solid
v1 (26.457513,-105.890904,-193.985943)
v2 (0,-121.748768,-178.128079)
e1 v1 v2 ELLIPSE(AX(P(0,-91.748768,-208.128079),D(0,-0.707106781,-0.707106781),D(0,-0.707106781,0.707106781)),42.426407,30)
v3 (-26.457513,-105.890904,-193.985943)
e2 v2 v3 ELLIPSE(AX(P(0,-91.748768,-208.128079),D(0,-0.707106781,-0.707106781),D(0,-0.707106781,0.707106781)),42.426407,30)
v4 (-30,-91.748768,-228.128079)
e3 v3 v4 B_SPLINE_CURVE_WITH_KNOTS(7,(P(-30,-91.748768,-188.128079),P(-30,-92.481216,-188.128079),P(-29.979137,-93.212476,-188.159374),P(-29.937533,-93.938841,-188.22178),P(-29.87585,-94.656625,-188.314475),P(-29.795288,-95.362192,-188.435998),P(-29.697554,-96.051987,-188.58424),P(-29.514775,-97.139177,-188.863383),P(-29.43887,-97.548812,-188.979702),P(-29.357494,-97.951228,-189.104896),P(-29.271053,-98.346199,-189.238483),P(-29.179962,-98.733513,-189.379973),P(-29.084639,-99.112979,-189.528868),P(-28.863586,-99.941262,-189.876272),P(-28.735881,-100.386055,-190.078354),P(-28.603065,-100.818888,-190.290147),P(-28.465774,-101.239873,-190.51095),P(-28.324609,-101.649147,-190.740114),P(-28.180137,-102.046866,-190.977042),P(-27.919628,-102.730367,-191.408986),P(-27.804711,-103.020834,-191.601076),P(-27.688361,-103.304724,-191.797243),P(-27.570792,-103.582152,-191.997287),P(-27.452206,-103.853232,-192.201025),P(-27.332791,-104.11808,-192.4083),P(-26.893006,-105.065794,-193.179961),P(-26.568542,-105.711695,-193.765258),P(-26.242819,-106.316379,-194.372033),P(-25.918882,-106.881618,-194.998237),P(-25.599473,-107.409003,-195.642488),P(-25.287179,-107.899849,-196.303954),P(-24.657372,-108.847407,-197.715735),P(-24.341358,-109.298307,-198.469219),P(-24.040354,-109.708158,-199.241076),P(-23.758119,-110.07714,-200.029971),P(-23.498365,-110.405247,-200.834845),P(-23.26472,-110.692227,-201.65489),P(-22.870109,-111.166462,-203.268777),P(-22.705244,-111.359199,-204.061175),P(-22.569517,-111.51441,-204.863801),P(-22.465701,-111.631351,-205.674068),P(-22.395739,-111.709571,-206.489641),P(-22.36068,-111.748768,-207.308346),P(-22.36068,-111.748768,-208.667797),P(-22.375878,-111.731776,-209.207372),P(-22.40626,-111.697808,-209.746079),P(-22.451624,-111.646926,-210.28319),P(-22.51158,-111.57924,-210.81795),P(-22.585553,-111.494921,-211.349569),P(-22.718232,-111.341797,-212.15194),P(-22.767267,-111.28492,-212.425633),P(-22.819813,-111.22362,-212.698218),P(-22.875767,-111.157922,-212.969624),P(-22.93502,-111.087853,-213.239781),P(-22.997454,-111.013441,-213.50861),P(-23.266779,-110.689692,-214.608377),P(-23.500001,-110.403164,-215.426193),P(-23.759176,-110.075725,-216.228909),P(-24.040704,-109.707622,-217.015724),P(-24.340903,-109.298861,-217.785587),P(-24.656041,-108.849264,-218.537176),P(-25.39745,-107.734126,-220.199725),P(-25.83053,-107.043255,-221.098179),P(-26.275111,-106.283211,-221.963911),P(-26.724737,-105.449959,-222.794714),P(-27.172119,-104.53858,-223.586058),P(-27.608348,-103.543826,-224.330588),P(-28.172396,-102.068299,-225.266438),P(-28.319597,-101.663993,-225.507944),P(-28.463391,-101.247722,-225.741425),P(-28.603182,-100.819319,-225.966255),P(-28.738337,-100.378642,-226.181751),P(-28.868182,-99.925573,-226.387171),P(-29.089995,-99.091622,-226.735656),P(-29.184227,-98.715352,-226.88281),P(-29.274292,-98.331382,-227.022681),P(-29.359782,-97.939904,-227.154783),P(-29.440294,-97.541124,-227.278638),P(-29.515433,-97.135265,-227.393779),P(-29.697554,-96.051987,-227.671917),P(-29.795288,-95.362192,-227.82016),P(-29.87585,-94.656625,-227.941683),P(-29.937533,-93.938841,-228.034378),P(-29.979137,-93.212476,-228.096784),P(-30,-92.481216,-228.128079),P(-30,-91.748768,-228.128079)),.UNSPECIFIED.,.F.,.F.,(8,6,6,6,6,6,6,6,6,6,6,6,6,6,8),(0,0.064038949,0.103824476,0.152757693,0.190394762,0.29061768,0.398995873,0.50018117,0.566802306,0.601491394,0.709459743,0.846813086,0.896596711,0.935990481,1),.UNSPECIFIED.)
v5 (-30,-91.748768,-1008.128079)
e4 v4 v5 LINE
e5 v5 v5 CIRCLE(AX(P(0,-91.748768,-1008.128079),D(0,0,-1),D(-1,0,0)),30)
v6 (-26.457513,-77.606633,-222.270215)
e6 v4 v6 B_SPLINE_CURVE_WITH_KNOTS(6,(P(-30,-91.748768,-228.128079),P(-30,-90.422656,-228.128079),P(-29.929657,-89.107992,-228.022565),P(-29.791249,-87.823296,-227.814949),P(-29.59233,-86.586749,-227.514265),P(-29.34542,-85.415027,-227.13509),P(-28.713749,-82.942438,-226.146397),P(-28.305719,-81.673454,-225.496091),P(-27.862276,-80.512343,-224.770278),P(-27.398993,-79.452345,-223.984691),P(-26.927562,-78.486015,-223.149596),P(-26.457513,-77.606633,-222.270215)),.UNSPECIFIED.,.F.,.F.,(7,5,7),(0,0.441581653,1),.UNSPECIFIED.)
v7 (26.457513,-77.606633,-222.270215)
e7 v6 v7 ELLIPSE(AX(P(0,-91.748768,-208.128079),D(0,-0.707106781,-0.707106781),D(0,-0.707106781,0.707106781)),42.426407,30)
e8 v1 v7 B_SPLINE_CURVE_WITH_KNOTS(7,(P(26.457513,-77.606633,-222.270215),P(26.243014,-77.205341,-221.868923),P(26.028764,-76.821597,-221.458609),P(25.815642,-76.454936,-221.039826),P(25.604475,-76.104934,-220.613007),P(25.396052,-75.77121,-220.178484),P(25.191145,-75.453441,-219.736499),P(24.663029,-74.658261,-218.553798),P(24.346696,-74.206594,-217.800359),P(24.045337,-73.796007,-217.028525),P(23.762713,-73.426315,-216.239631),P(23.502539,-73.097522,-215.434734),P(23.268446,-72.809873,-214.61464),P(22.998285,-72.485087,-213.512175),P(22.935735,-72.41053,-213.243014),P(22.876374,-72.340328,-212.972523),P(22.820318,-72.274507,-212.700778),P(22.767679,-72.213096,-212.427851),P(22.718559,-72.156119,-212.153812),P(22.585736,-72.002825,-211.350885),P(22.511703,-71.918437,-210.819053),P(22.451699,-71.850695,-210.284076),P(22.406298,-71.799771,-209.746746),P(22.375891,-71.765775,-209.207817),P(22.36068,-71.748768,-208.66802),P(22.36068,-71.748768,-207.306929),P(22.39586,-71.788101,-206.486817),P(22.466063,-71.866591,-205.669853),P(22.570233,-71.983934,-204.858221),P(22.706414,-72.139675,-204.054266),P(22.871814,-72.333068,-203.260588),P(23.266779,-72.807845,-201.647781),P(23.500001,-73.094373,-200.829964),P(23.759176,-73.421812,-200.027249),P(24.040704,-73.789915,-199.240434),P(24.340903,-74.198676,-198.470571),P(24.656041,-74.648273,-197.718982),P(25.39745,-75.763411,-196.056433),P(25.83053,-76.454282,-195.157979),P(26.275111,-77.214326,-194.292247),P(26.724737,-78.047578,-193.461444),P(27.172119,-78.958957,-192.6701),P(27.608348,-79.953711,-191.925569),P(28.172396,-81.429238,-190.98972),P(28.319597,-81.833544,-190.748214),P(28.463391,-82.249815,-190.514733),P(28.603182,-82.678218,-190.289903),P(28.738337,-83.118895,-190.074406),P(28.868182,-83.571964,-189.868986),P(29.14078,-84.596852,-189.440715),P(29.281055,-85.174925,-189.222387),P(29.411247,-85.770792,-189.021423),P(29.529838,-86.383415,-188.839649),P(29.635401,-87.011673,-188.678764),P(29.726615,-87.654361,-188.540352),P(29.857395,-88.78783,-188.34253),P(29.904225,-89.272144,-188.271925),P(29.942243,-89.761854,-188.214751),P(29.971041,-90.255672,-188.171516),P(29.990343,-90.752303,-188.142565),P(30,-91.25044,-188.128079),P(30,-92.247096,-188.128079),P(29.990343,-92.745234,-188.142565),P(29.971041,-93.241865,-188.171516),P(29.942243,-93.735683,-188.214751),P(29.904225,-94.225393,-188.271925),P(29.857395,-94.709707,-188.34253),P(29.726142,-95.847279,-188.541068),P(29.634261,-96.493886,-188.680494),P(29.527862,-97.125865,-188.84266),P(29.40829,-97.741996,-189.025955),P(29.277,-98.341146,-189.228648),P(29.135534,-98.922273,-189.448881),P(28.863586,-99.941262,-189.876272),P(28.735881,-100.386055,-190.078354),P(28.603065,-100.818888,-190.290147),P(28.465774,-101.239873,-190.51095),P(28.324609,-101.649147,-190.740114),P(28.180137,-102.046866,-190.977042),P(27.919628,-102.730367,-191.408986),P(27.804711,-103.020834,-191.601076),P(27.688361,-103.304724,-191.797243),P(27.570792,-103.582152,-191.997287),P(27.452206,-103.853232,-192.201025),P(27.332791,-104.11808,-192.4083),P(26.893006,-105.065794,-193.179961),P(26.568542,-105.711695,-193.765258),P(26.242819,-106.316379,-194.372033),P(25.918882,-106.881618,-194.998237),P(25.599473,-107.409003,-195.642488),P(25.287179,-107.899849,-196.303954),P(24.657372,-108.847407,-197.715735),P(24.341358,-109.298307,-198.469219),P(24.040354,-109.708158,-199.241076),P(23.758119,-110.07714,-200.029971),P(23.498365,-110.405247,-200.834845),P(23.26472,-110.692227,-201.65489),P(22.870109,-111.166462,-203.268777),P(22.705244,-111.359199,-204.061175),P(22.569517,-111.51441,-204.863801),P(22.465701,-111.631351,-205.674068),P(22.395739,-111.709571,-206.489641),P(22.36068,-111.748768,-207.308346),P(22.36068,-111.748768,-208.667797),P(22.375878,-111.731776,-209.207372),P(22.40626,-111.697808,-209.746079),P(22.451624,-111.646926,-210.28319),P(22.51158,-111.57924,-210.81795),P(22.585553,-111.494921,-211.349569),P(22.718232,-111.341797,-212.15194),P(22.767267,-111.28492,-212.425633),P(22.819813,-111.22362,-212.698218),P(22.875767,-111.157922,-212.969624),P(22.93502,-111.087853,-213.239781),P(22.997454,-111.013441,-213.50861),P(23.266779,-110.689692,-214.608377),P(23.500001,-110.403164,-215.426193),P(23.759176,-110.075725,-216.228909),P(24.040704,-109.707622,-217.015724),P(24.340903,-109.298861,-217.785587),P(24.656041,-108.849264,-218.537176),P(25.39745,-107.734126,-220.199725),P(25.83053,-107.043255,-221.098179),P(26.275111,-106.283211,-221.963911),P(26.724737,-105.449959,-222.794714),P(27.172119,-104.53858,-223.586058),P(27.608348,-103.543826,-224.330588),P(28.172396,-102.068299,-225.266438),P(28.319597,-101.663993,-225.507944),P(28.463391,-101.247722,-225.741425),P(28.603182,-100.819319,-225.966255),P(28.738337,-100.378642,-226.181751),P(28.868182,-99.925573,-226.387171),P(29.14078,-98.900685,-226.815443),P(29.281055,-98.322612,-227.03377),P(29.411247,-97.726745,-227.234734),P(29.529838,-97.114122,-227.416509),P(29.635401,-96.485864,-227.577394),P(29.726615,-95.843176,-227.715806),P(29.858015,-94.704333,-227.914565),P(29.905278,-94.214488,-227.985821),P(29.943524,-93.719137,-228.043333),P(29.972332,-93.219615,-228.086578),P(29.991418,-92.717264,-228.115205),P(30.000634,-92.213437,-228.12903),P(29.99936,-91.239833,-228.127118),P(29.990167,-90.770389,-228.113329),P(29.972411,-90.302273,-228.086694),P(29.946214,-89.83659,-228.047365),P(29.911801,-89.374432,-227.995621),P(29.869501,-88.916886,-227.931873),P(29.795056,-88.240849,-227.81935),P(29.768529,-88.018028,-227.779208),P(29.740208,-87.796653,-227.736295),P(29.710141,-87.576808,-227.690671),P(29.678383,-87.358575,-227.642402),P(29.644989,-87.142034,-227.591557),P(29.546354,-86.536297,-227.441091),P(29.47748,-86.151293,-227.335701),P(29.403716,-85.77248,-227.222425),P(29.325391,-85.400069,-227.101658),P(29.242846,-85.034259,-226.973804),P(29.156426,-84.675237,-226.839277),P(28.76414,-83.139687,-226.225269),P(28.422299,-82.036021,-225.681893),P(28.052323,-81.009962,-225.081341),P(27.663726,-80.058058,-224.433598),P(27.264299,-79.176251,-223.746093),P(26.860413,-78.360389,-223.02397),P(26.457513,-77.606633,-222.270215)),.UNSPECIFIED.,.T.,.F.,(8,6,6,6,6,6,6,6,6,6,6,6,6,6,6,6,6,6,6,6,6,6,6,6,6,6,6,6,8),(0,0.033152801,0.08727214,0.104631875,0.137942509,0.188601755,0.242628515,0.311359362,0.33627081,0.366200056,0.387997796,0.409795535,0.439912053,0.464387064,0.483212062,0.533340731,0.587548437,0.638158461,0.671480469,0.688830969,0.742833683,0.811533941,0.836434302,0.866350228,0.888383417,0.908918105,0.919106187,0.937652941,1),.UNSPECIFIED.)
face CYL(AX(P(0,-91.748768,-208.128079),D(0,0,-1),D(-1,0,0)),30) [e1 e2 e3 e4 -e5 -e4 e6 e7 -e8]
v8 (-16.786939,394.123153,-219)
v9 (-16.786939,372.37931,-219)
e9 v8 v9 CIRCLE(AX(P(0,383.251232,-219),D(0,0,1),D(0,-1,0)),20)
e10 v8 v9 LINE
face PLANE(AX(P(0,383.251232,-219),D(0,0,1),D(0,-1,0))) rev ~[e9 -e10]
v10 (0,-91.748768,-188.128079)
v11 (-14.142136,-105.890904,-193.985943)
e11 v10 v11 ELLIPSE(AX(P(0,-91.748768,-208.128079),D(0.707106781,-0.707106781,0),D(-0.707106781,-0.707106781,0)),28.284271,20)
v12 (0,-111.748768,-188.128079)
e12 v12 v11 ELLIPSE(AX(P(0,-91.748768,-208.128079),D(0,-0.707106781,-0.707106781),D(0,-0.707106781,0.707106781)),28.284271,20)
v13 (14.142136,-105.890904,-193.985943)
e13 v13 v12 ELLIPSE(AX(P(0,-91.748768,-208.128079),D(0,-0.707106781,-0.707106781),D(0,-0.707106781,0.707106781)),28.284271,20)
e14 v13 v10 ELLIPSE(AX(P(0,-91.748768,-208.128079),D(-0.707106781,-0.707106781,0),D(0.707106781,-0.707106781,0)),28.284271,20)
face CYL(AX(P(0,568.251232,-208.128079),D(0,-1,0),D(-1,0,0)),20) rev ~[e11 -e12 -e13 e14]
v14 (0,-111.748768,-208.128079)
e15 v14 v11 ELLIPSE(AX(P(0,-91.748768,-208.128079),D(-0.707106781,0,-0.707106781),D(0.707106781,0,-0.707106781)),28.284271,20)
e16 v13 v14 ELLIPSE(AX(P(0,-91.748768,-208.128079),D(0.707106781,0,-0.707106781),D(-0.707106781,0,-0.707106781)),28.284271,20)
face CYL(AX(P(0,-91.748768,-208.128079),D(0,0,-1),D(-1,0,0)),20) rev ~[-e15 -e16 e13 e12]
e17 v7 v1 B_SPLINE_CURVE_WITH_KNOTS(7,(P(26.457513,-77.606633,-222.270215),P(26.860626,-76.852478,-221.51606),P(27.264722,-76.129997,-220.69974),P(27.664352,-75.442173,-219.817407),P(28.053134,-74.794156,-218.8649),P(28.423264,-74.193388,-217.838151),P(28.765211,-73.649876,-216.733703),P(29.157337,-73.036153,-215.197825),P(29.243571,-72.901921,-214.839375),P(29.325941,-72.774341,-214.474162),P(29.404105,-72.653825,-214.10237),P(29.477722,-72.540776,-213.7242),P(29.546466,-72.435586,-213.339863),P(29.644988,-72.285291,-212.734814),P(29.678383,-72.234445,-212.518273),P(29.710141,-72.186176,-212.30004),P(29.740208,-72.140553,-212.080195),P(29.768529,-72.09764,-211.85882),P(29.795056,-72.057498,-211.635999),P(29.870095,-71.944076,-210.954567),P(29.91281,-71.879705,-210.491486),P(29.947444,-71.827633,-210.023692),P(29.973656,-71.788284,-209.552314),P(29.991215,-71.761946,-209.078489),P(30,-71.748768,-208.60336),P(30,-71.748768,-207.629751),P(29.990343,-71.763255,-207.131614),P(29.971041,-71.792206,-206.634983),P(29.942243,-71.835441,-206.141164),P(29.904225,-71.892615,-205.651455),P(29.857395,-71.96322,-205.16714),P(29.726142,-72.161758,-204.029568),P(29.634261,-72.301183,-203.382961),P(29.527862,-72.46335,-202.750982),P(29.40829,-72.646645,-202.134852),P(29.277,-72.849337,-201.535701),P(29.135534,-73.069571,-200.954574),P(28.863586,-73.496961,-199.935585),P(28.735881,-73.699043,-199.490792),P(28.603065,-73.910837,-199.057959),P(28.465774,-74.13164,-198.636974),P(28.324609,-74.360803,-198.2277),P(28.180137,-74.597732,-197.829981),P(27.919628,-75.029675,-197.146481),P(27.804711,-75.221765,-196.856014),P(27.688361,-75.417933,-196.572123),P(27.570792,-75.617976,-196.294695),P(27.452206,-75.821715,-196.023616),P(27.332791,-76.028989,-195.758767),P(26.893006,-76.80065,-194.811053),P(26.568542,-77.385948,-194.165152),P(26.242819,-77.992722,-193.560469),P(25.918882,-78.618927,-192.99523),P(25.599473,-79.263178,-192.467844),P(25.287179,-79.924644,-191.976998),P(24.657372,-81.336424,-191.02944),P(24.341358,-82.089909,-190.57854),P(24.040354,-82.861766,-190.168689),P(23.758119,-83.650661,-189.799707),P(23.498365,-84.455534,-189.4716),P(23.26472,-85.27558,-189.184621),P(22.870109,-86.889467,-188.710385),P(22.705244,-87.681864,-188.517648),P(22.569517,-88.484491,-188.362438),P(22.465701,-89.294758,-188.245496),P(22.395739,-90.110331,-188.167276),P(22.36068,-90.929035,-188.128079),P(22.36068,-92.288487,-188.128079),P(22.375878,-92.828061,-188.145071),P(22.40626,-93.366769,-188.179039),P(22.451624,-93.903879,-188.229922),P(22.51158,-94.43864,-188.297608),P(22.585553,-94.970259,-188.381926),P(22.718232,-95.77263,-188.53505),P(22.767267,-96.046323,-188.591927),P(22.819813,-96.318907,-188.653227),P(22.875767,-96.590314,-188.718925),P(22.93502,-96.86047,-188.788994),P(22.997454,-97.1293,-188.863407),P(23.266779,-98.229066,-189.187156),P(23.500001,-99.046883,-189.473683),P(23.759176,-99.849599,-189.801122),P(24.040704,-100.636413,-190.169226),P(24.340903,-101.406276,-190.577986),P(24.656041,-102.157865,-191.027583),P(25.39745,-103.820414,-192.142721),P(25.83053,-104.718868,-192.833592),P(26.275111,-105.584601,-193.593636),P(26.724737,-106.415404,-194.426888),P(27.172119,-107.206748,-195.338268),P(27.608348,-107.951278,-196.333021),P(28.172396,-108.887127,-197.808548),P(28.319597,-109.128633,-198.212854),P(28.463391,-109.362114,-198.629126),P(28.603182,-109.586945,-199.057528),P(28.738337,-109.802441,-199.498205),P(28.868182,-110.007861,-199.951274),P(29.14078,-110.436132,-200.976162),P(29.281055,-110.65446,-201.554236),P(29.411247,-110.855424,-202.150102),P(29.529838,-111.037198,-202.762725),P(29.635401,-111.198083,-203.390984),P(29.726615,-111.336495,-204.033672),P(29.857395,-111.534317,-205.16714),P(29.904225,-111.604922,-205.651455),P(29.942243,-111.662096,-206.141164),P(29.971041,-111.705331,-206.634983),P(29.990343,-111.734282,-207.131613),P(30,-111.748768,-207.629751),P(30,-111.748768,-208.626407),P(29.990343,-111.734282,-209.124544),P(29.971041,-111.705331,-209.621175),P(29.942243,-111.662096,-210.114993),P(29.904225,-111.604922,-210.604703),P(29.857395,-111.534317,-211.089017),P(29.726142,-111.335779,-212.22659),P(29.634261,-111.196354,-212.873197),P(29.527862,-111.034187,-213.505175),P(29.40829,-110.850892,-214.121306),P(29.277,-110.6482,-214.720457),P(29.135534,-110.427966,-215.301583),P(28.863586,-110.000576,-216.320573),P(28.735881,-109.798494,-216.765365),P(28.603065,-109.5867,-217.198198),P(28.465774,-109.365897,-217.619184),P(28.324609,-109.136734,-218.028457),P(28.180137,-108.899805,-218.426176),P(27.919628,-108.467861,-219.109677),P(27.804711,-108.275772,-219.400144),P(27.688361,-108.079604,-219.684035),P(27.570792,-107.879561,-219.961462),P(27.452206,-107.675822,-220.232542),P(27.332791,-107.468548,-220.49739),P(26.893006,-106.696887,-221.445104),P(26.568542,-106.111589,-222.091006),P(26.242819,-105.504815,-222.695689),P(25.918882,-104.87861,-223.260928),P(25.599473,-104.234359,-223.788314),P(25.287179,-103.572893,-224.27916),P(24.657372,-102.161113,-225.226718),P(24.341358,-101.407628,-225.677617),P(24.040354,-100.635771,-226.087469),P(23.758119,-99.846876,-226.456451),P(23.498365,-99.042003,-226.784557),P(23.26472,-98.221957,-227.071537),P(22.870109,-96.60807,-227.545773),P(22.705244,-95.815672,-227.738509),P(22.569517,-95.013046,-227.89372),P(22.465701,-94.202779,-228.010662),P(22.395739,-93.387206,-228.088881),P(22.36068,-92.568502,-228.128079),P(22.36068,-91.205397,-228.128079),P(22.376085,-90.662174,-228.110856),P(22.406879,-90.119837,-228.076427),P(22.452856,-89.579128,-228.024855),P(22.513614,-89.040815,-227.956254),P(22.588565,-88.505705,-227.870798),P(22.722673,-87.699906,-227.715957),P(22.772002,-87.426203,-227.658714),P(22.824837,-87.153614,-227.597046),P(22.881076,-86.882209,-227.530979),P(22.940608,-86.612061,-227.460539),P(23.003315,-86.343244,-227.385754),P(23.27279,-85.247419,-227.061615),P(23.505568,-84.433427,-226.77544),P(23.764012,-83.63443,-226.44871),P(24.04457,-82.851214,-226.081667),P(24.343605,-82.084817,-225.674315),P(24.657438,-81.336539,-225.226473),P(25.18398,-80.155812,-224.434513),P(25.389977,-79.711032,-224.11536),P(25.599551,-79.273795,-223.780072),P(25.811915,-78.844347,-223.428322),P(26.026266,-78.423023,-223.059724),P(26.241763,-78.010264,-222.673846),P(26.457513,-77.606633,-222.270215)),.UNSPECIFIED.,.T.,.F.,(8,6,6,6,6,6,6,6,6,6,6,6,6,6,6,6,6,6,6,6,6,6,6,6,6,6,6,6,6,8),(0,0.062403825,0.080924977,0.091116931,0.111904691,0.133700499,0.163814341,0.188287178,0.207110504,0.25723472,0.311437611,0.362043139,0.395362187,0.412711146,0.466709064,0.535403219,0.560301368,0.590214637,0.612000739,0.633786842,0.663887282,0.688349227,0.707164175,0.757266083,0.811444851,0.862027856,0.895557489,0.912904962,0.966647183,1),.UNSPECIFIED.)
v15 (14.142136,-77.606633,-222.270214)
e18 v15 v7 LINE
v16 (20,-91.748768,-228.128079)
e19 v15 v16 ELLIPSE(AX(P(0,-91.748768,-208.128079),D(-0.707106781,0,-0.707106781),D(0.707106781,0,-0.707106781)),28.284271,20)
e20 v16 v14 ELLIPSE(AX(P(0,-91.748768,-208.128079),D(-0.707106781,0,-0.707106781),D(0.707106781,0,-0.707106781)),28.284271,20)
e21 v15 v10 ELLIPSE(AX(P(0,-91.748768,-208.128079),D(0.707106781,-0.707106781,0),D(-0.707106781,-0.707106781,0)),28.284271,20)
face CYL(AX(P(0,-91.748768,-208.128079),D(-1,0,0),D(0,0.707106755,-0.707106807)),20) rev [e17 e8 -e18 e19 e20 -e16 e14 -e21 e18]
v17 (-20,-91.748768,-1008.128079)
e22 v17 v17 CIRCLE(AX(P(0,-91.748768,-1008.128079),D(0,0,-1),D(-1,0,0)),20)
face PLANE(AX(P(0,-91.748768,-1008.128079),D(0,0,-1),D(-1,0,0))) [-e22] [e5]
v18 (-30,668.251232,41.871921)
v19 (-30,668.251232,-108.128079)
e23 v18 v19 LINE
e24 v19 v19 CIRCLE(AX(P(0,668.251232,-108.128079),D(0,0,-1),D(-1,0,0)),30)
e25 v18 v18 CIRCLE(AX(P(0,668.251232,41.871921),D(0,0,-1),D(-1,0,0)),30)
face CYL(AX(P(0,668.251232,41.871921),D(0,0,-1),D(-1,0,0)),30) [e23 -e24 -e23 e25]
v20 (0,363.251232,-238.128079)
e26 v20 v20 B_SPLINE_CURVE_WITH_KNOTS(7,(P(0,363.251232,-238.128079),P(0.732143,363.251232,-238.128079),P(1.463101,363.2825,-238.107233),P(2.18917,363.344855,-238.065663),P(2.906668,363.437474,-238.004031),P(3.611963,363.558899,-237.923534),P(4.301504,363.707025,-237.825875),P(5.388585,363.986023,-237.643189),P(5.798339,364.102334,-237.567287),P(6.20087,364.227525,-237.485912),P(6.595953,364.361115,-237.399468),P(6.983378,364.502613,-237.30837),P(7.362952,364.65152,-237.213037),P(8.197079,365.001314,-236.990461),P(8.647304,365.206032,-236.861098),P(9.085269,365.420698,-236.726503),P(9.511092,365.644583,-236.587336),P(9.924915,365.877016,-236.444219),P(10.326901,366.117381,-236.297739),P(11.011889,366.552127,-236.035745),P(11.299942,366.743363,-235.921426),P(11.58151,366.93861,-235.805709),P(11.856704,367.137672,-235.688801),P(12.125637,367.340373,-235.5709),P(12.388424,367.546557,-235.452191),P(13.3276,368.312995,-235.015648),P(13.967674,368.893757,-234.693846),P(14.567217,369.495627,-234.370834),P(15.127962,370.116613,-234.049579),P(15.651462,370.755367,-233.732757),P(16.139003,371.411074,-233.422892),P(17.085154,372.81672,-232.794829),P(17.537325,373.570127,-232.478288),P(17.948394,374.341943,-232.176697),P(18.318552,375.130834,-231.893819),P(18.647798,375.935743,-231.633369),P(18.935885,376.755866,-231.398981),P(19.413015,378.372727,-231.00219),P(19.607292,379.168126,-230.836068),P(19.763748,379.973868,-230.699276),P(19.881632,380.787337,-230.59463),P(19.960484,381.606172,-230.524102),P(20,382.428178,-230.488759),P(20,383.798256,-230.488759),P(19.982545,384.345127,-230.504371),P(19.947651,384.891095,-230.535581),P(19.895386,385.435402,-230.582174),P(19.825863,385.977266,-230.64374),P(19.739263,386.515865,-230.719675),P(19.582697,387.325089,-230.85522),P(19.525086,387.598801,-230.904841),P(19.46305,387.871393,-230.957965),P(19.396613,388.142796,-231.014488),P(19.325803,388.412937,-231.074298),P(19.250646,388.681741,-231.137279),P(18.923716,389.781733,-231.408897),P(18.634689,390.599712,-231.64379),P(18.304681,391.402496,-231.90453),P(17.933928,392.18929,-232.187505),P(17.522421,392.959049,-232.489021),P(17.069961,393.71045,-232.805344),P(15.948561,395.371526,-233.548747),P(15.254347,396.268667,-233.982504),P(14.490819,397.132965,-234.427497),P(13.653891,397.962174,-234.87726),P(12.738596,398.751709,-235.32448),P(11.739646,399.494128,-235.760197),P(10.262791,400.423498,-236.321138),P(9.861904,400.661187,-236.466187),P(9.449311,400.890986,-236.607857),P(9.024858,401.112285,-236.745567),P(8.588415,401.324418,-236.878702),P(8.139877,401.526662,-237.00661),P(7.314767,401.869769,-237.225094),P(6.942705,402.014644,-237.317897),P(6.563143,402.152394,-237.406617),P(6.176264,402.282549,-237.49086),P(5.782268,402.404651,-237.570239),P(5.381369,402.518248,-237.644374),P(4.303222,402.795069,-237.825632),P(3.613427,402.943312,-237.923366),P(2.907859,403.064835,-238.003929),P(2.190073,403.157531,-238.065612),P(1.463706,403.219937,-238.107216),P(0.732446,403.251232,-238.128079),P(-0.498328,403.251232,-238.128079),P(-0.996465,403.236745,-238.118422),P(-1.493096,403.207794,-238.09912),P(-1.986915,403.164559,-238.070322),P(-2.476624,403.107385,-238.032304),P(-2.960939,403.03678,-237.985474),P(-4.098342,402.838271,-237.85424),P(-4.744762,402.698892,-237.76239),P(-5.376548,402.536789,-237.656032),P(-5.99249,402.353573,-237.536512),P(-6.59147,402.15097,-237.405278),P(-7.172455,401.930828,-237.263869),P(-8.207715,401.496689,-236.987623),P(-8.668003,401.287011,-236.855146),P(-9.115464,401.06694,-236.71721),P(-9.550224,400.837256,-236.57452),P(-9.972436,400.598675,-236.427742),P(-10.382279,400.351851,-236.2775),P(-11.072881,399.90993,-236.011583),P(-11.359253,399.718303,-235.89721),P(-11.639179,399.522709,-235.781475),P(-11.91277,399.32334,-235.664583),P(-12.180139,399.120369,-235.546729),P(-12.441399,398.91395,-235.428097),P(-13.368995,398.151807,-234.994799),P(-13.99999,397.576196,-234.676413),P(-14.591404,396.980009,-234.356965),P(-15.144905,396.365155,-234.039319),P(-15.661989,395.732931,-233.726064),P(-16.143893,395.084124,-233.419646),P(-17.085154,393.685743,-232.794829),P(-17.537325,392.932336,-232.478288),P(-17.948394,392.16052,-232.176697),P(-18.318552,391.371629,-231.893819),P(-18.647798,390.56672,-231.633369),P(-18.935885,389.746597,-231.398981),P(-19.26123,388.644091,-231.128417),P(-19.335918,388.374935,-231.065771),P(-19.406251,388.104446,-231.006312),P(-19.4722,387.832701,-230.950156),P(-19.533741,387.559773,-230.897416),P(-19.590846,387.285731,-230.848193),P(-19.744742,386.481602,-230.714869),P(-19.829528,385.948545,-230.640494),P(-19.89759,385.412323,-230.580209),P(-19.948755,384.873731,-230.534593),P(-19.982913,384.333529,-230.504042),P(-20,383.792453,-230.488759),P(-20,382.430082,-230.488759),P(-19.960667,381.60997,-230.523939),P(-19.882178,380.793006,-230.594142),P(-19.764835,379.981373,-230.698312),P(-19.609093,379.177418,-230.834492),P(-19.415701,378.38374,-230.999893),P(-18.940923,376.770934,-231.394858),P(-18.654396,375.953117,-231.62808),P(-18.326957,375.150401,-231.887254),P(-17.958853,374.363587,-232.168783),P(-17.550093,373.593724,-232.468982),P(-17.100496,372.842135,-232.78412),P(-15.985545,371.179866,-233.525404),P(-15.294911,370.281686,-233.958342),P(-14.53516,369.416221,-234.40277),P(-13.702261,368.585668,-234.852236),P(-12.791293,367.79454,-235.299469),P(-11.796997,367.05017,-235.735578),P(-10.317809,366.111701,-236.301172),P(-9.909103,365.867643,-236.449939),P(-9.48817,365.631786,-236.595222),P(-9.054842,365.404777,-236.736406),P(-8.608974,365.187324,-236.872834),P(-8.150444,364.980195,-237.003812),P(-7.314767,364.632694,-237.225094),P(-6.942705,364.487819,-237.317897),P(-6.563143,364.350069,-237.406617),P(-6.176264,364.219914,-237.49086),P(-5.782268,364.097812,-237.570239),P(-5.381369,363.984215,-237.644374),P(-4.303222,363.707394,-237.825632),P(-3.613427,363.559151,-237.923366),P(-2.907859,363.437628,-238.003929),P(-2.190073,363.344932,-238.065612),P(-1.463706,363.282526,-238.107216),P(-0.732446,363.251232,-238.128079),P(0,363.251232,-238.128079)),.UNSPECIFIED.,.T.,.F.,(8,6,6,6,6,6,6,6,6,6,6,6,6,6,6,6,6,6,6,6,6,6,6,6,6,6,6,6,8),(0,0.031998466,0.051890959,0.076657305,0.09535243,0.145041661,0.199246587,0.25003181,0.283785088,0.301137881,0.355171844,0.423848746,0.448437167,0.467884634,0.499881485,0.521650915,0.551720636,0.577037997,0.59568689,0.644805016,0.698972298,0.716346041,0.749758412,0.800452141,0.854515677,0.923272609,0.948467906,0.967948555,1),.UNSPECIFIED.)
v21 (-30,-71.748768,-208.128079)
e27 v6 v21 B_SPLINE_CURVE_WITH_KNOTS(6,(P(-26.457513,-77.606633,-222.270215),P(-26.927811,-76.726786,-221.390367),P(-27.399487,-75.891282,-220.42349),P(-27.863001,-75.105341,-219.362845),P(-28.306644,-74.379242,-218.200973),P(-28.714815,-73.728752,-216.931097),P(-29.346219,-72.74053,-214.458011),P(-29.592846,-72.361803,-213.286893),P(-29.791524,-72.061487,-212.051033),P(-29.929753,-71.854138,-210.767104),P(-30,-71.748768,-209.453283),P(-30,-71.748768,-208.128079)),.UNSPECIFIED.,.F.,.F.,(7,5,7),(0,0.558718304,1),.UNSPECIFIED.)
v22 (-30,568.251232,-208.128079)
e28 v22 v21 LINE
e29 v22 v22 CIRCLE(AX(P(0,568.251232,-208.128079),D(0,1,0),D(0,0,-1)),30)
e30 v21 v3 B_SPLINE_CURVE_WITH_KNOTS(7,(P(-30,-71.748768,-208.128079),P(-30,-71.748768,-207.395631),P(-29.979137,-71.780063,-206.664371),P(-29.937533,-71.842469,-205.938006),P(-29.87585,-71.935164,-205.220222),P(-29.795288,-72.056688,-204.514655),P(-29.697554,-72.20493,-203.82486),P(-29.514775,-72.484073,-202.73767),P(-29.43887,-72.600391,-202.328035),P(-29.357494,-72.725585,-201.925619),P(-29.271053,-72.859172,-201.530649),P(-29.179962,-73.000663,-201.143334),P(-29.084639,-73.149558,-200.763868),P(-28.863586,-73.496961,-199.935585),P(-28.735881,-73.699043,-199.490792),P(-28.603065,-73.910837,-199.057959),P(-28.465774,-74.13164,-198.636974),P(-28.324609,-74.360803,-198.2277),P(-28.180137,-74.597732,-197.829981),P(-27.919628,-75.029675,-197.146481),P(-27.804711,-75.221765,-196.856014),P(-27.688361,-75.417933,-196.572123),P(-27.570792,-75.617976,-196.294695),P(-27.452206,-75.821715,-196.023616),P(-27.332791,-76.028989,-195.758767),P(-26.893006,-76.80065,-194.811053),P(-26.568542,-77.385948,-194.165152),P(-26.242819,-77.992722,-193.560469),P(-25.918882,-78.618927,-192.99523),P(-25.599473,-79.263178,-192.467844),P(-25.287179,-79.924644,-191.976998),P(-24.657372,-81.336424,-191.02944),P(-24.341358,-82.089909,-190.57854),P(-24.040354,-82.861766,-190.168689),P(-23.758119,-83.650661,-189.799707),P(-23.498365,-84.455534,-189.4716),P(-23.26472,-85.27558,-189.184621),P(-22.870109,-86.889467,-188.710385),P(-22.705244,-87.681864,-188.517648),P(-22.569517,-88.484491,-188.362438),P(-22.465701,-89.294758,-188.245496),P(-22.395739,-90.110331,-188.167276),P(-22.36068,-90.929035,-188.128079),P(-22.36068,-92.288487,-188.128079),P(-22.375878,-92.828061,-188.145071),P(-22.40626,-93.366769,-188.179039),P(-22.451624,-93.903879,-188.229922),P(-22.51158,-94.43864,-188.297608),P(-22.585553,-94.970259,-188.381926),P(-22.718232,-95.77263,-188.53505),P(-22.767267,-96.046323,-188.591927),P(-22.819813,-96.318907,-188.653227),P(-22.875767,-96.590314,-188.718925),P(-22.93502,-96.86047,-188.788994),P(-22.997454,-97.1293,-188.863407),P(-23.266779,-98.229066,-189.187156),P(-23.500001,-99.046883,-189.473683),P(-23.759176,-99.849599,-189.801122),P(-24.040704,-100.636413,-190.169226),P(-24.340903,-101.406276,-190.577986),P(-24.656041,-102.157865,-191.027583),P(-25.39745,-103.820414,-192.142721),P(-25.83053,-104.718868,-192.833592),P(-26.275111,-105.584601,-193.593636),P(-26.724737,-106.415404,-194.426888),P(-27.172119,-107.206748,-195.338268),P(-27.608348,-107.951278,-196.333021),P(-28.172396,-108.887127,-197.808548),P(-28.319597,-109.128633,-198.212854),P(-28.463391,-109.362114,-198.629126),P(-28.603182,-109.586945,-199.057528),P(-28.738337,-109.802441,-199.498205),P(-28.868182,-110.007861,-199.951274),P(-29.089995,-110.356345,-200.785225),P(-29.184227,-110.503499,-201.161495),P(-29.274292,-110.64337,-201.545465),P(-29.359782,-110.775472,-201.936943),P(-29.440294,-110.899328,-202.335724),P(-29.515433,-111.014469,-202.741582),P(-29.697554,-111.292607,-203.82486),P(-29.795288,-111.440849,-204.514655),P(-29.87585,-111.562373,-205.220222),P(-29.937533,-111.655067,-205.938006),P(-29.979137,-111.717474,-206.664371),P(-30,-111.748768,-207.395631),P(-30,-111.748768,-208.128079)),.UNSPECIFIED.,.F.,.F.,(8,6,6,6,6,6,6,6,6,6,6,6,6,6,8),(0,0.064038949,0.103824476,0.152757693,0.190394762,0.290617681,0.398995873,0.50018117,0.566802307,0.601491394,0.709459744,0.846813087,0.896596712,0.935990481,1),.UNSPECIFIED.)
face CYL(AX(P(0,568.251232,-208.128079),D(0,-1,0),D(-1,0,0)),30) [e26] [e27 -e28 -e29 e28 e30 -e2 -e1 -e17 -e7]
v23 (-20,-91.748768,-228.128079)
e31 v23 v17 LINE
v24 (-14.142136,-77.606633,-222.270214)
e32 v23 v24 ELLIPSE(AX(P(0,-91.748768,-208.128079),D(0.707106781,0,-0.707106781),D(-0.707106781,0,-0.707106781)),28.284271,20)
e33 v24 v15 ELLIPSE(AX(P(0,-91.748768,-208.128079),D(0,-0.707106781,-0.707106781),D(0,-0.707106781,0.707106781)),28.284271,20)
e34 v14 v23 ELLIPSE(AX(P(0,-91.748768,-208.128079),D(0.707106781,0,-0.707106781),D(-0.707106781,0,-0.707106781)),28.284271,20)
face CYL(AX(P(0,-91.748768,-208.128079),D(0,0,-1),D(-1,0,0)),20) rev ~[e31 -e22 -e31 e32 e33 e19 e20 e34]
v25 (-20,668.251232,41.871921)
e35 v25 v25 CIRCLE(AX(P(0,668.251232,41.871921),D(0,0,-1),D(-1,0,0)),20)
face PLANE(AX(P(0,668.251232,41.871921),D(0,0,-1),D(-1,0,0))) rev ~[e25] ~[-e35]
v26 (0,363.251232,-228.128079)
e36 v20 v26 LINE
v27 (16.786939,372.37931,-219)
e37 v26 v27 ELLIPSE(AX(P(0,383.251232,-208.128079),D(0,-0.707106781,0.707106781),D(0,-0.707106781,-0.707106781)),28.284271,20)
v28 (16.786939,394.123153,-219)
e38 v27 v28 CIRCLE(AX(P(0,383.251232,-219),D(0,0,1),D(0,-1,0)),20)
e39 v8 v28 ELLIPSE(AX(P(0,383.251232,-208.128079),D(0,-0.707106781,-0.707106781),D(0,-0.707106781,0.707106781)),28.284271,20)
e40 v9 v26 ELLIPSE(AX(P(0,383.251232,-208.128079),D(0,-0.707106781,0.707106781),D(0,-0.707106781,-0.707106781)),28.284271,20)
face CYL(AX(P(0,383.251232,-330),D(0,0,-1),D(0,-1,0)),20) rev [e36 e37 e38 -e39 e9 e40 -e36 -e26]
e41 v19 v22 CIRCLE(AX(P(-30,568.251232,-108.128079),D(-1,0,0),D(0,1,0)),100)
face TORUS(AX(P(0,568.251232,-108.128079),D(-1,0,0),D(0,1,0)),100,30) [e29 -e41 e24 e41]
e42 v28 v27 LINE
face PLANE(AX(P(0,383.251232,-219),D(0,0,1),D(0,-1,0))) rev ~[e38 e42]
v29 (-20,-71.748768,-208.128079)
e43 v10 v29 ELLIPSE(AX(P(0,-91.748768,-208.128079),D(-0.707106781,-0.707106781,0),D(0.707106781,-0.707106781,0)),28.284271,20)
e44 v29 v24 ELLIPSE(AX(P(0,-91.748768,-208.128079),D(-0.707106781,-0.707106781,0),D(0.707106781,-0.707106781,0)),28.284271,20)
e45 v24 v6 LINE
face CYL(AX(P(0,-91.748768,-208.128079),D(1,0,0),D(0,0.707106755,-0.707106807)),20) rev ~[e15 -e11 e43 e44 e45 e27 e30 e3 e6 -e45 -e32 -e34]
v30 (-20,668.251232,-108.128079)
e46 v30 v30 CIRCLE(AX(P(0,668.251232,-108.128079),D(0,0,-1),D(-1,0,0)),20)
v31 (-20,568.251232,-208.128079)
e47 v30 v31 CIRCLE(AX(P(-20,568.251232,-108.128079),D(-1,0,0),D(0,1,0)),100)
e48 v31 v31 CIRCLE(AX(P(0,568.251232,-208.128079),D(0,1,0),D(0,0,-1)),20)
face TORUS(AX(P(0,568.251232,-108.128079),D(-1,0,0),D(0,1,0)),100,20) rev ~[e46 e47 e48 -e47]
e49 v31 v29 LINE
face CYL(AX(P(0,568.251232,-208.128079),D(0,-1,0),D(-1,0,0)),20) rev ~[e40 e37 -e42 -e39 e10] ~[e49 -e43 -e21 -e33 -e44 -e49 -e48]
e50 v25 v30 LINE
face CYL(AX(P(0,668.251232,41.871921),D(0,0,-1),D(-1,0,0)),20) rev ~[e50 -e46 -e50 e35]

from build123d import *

# Parameters (mm, degrees)
SWEEP_THIN1_PROFILE_R   = 30
SWEEP_THIN1_PROFILE_R_2 = 20
CUT_EXTRUDE1_DEPTH      = 1227.693525611
CUT_EXTRUDE1_DEPTH_BACK = 1227.693525611
SKETCH3_R               = 20
SKETCH5_R               = 20
CUT_EXTRUDE3_DEPTH      = 111


with BuildPart() as part:
    # Sweep-Thin1: sweep along a path in Sketch1
    with BuildLine(Plane(origin=(0, 0, 0), x_dir=(0, 0, -1), z_dir=(1, 0, 0))) as sweep_thin1_path:
        Line((-41.871921182, 668.251231527), (108.128078818, 668.251231527))
        ThreePointArc((108.128078818, 668.251231527), (178.838756936, 638.961909646), (208.128078818, 568.251231527))
        Line((208.128078818, 568.251231527), (208.128078818, -91.748768473))
        Line((208.128078818, -91.748768473), (1008.128078818, -91.748768473))
    # Sweep-Thin1 profile (on start of the path) → Sweep-Thin1 (sweep)
    with BuildSketch(Plane(origin=(0, 668.251231527, 41.871921182), x_dir=(-1, 0, 0), z_dir=(0, 0, -1))):
        Circle(SWEEP_THIN1_PROFILE_R)
        Circle(SWEEP_THIN1_PROFILE_R_2, mode=Mode.SUBTRACT)
    sweep(path=sweep_thin1_path.line, transition=Transition.RIGHT)

    # Sketch3 → Cut-Extrude1 (cut, two sides: drawn at the far end of the back side and taken through both)
    with BuildSketch(Plane(origin=(0, 0, 0), x_dir=(0, 0, -1), z_dir=(1, 0, 0)).offset(-CUT_EXTRUDE1_DEPTH_BACK)):
        with Locations((208.128078818, -91.748768473)):
            Circle(SKETCH3_R)
    extrude(amount=CUT_EXTRUDE1_DEPTH + CUT_EXTRUDE1_DEPTH_BACK, mode=Mode.SUBTRACT)

    # Sketch5 → Cut-Extrude3 (cut)
    with BuildSketch(Plane.XY.offset(-330)):
        with Locations((0, 383.251231527)):
            Circle(SKETCH5_R)
    extrude(amount=CUT_EXTRUDE3_DEPTH, mode=Mode.SUBTRACT)


solid = part.part
